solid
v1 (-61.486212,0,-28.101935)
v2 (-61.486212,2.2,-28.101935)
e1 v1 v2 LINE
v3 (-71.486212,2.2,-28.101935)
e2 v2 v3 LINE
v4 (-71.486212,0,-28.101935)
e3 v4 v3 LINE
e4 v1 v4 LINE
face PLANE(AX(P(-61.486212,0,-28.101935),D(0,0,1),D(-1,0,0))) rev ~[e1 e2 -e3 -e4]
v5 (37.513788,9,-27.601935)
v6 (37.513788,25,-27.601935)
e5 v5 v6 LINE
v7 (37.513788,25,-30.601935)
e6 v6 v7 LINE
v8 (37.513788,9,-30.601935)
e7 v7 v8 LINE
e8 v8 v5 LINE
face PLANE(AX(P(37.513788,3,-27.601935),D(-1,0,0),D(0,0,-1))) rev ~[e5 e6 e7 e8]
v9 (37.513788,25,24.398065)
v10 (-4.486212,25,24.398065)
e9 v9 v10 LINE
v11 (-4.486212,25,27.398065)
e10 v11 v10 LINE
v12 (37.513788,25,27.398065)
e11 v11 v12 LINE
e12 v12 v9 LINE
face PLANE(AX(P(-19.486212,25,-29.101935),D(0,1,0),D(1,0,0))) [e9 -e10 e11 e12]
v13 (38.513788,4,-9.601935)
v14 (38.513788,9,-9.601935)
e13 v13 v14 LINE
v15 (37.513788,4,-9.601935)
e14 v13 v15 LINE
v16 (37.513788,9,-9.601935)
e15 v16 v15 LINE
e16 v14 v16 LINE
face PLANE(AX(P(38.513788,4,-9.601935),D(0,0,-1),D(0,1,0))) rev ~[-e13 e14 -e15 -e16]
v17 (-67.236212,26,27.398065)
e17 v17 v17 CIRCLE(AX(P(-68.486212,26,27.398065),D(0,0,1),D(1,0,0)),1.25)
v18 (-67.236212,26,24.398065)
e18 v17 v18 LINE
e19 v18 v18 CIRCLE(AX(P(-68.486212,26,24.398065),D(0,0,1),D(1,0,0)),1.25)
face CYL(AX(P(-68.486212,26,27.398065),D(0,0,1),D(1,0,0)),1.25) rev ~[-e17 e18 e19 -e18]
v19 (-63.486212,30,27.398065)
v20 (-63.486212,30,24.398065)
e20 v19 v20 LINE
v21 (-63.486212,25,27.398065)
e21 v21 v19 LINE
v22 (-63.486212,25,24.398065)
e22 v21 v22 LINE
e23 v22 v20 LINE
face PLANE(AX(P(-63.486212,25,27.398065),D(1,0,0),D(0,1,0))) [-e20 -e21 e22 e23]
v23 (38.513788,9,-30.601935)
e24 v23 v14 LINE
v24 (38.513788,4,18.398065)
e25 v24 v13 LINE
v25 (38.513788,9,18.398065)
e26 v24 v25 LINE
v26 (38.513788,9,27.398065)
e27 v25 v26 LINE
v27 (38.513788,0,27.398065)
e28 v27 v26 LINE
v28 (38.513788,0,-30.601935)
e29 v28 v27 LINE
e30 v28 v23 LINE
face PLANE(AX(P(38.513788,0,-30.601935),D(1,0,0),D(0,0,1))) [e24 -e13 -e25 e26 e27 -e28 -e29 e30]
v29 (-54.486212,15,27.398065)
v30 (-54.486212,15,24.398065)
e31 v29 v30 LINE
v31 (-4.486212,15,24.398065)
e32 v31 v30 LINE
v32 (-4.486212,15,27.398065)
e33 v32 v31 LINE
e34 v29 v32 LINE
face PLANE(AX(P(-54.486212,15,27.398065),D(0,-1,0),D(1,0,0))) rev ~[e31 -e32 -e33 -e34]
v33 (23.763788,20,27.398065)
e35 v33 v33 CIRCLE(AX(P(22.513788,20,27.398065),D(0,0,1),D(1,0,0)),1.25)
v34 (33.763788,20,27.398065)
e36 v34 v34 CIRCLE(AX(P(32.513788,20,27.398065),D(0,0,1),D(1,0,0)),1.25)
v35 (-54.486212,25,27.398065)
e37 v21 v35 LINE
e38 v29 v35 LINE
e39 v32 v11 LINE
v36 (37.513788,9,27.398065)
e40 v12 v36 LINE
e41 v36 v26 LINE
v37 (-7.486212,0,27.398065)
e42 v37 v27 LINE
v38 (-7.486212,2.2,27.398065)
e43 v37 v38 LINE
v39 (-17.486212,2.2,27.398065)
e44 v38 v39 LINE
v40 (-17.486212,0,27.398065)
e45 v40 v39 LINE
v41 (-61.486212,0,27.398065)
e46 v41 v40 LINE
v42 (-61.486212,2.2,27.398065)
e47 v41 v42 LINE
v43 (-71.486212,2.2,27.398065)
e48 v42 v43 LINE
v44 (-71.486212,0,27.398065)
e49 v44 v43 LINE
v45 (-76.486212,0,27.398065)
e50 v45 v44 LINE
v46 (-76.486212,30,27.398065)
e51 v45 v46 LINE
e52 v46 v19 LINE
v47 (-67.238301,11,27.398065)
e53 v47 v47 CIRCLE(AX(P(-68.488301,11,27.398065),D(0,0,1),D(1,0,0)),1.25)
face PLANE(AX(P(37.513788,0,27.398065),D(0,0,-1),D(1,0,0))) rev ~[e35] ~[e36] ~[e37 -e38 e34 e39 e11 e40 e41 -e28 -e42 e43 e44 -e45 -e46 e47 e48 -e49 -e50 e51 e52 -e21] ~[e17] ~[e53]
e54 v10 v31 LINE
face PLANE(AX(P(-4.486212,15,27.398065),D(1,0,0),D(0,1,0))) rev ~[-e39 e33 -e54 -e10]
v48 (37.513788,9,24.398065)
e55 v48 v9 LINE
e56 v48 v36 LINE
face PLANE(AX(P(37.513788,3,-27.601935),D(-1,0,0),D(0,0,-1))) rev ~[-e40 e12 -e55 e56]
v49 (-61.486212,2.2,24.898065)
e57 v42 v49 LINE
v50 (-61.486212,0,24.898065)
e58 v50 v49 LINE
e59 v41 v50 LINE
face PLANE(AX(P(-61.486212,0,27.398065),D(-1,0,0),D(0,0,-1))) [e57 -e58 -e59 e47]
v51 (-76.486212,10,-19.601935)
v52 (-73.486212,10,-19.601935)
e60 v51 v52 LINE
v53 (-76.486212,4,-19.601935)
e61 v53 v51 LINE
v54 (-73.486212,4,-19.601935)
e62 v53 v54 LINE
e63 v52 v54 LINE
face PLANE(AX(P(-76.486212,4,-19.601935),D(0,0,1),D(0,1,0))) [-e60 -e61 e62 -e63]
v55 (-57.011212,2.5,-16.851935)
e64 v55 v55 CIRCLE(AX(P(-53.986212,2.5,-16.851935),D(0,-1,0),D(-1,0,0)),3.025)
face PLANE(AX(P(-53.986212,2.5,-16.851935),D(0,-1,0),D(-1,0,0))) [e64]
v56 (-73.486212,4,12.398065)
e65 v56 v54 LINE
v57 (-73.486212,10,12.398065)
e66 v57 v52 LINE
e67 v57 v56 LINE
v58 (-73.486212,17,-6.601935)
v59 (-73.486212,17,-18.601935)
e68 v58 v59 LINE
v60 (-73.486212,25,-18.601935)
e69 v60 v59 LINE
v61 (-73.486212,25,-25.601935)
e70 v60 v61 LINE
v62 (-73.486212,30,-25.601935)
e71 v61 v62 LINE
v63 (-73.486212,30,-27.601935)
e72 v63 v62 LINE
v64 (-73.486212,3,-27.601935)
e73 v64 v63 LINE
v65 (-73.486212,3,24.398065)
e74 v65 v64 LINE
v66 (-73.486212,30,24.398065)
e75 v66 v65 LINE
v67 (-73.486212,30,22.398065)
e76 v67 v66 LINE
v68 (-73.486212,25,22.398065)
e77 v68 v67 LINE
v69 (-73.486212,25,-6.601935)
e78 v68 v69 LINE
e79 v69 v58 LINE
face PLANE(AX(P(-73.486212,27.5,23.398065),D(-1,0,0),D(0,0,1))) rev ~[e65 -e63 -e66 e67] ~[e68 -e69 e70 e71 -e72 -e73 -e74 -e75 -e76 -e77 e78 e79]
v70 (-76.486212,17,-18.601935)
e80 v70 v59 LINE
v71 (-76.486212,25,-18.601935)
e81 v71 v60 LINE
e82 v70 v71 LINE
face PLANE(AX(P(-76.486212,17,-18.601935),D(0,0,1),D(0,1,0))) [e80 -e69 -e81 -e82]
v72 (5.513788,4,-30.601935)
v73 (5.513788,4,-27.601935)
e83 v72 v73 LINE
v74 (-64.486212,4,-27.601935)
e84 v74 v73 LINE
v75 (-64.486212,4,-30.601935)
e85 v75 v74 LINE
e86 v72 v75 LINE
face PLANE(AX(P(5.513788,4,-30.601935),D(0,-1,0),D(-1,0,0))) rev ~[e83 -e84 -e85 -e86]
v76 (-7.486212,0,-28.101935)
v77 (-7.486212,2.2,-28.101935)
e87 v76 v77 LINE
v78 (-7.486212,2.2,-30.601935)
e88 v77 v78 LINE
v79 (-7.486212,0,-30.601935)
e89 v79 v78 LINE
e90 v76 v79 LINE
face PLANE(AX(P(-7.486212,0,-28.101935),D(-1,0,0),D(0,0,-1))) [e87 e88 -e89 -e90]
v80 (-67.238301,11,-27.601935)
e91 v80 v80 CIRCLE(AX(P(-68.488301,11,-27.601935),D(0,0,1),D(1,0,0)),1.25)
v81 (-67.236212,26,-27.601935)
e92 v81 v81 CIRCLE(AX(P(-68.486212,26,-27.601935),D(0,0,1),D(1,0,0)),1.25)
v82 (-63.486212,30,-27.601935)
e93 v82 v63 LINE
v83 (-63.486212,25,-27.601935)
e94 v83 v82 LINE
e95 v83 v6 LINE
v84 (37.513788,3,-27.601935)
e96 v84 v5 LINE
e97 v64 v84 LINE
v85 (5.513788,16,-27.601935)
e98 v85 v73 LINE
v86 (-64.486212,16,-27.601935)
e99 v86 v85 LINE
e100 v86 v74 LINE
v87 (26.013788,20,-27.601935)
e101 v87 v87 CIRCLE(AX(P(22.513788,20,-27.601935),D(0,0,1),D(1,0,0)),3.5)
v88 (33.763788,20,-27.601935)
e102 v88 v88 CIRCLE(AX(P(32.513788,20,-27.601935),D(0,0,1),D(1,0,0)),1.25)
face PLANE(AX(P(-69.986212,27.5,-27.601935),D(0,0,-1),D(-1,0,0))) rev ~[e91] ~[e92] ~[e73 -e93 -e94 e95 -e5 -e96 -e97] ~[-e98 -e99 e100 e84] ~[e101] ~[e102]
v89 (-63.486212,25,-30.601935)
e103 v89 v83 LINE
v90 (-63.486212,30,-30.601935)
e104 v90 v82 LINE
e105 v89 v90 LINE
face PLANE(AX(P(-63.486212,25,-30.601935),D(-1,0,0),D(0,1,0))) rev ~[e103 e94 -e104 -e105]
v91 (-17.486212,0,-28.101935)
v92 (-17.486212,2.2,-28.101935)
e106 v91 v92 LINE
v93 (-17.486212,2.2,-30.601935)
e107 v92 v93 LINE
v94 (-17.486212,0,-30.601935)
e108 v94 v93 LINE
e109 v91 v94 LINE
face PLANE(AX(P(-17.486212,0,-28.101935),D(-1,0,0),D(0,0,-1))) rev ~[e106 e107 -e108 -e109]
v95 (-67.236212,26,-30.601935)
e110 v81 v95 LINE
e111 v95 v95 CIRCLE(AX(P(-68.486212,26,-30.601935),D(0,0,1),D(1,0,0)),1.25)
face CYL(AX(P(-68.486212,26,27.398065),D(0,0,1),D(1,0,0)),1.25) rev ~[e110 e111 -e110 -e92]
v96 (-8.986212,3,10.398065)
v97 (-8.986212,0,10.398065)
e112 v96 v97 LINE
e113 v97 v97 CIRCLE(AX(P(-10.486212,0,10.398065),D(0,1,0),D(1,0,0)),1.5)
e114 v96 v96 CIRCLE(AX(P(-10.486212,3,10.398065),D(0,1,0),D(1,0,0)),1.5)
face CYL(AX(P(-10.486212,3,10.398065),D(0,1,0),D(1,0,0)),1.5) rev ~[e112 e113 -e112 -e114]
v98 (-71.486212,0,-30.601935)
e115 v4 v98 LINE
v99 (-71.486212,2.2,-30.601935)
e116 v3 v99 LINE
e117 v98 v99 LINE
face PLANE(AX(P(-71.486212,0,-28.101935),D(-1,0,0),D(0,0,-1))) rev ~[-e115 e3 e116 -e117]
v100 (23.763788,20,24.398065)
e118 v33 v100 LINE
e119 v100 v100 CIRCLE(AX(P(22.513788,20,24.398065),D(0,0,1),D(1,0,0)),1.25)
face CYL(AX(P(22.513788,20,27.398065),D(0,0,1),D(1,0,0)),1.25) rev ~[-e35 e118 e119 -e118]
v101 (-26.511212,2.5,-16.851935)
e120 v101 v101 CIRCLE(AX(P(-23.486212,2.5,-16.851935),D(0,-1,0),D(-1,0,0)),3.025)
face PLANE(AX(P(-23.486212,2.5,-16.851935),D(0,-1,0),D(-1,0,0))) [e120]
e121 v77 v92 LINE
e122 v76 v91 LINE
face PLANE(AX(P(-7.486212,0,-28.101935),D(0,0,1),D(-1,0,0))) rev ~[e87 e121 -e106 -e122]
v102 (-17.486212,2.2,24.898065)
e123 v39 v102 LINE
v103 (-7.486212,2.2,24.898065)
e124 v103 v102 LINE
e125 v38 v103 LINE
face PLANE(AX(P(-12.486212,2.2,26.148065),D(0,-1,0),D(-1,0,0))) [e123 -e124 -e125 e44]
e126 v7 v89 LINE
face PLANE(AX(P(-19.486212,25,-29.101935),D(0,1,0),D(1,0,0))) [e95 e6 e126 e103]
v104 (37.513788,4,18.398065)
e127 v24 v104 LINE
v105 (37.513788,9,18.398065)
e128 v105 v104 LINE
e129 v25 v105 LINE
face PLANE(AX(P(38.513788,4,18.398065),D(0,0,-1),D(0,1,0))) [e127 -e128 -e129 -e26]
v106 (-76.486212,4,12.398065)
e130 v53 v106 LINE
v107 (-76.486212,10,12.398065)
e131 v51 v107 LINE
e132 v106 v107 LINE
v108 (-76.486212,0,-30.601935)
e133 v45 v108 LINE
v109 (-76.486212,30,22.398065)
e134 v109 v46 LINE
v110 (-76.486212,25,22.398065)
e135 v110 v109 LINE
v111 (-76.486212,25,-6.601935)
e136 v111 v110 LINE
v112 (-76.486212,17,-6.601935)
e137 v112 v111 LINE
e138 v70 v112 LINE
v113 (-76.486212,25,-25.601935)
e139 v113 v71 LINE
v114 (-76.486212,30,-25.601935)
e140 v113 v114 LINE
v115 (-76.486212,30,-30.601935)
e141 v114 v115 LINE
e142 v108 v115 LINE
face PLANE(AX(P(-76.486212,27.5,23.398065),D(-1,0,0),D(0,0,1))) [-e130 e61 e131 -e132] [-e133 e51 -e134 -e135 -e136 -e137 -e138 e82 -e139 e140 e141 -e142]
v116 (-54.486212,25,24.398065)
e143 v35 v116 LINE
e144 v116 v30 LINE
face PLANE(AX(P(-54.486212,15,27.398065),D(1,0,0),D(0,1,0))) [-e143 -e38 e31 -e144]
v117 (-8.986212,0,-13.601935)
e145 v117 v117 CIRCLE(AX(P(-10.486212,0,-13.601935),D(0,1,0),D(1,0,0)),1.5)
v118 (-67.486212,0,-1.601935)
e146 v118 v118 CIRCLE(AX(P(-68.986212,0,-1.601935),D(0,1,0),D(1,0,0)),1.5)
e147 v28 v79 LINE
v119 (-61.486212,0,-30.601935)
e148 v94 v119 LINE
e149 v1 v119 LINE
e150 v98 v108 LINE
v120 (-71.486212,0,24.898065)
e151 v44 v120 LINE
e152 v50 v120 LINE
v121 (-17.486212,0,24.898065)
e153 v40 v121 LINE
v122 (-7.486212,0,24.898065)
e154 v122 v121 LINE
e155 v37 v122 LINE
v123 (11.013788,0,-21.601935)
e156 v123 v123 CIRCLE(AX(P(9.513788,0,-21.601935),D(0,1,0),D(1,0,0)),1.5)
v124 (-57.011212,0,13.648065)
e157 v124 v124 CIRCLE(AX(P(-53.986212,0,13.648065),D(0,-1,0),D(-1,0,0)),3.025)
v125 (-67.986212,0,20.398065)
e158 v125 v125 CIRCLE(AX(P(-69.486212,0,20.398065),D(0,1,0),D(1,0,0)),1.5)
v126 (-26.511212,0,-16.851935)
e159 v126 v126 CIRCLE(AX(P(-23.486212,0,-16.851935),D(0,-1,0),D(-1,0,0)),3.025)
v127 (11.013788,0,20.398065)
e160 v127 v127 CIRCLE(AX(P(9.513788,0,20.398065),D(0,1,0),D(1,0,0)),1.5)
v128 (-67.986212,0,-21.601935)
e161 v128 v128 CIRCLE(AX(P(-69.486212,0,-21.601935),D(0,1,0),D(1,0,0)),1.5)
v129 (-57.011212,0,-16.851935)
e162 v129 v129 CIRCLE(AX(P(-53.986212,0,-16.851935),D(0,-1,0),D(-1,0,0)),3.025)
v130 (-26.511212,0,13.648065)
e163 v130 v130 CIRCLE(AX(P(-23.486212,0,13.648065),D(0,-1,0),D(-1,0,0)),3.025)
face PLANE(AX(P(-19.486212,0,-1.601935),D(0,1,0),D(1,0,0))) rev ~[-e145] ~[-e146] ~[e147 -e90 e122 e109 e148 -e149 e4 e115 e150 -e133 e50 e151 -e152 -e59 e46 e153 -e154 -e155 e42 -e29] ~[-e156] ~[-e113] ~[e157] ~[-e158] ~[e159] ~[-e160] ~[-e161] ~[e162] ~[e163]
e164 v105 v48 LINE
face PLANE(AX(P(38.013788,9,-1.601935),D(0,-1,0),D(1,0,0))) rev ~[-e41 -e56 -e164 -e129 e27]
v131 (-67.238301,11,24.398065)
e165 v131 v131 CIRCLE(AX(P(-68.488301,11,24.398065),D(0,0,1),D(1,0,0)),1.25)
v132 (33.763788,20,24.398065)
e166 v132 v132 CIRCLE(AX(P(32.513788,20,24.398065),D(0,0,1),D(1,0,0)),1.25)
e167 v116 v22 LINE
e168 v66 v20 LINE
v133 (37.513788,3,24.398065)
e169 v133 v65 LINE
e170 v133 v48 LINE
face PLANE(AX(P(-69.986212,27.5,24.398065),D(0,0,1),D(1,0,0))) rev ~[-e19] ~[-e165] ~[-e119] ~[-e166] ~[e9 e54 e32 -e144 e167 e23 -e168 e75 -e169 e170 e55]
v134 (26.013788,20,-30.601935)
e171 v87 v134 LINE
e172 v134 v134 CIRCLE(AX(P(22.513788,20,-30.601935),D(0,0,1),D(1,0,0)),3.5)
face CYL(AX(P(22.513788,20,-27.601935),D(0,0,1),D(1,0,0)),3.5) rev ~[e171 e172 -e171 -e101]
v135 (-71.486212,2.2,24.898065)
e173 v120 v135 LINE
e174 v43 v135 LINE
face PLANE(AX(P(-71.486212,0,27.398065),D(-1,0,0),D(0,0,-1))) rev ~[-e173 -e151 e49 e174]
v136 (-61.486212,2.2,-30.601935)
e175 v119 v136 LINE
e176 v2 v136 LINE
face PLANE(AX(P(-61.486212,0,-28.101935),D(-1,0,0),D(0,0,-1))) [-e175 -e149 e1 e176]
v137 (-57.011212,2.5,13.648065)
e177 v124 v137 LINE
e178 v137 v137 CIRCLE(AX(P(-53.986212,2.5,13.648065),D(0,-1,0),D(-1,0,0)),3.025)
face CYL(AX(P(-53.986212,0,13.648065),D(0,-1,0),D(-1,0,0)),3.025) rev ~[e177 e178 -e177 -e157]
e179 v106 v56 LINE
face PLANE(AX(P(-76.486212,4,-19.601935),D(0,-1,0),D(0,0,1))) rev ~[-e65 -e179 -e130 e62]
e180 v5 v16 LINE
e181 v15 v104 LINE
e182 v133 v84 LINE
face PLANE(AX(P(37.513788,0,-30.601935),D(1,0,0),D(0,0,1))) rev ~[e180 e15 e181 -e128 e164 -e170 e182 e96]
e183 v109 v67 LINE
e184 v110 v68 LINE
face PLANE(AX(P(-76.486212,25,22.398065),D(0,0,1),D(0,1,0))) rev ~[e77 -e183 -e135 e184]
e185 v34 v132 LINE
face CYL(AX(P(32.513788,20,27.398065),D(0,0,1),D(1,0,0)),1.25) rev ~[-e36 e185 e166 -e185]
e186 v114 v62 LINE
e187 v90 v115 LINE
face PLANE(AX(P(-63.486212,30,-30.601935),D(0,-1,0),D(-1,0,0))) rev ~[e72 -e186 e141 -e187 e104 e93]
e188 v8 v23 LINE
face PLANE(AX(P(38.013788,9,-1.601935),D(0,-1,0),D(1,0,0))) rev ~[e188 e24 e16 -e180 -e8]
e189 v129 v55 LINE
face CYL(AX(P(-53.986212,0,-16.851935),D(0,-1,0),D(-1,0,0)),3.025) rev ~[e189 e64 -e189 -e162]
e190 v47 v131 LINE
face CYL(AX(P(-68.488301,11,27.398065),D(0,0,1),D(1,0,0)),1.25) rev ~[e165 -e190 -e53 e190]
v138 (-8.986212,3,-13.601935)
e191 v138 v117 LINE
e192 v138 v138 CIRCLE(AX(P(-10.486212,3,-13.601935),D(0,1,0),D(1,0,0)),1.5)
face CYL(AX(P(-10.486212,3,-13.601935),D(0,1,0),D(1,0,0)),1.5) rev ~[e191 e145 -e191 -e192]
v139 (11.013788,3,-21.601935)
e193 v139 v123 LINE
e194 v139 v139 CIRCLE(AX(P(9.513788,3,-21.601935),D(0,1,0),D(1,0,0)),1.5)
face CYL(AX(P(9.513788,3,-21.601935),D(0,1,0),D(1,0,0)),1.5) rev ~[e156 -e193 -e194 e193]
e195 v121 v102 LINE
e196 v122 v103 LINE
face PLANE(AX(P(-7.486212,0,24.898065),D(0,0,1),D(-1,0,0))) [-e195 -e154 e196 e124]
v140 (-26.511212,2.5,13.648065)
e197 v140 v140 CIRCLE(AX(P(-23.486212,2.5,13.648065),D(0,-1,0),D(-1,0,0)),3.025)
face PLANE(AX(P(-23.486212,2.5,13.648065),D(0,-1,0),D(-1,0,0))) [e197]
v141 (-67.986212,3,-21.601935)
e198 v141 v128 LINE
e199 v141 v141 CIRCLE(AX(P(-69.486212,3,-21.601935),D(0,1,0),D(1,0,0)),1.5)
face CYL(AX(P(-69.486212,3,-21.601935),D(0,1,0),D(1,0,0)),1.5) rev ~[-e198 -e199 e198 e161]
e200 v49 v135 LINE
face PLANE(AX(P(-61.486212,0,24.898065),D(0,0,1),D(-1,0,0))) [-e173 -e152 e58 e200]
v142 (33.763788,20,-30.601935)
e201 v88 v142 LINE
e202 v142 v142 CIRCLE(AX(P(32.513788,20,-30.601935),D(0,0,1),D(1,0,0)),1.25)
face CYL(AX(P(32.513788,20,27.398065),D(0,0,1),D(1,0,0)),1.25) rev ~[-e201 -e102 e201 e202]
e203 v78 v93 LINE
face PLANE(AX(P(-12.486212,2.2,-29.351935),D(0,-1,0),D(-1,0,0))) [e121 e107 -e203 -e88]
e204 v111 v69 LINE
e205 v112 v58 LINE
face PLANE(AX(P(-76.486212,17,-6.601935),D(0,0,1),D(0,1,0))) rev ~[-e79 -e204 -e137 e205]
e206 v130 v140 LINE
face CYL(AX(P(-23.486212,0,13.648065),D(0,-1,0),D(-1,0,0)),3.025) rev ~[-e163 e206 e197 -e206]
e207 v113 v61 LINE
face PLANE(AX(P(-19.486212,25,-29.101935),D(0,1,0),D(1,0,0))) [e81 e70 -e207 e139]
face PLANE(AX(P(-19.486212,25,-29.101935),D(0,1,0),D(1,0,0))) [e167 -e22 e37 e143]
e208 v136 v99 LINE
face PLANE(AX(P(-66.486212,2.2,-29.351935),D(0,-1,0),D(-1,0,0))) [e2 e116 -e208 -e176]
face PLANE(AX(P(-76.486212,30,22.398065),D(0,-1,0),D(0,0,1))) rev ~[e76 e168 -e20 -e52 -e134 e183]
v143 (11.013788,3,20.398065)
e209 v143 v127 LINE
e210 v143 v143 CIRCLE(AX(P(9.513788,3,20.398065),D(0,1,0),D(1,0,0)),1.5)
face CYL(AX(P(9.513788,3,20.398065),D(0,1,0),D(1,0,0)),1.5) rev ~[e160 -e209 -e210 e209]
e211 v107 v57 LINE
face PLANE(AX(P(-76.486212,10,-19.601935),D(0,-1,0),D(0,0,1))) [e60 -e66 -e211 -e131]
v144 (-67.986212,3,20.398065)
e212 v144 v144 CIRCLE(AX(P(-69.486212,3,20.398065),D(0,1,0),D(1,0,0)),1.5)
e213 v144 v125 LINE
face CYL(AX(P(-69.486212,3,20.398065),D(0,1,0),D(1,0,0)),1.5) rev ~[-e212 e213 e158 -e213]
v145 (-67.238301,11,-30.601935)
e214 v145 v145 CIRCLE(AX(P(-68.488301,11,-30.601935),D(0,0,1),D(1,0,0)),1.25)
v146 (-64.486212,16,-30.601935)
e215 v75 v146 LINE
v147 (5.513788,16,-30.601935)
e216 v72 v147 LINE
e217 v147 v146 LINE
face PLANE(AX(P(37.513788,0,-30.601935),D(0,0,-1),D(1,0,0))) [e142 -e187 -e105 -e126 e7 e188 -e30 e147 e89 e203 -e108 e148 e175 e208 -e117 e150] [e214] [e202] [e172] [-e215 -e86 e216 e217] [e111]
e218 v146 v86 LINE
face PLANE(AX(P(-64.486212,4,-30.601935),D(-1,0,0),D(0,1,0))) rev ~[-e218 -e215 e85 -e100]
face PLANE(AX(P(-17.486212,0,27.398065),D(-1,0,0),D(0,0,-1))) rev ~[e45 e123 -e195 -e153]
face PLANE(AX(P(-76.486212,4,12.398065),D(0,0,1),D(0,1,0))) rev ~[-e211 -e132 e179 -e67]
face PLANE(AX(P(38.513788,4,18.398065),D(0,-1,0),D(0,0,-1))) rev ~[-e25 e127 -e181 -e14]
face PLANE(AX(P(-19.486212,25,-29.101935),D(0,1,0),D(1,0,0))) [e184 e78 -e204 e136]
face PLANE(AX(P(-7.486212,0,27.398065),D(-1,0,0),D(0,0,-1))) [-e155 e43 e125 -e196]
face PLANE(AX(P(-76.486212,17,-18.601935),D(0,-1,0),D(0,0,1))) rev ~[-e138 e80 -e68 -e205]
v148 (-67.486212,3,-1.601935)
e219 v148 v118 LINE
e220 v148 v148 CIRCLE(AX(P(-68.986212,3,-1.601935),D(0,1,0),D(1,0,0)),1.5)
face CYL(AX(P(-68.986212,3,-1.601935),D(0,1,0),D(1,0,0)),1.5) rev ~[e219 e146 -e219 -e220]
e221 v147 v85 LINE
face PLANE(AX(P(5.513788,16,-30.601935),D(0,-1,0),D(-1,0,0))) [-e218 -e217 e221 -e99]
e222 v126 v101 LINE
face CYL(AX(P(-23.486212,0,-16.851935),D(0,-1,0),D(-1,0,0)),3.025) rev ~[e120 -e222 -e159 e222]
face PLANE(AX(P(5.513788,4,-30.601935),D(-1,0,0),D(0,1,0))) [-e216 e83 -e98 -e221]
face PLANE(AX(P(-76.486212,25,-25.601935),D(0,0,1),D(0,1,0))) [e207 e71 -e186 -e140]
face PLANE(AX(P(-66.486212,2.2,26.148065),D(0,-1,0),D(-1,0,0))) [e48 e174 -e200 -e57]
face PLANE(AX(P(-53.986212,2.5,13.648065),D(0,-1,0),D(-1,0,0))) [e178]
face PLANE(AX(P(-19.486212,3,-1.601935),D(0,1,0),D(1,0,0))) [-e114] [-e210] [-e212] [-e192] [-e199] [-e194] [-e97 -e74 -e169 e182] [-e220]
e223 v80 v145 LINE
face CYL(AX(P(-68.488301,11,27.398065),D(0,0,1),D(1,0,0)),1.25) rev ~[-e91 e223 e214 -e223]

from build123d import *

# Parameters (mm, degrees)
SKETCH2_W           = 114
SKETCH2_H           = 58
BOSS_EXTRUDE1_DEPTH = 3
SKETCH3_R           = 1.5
CUT_EXTRUDE5_DEPTH  = 4
SKETCH5_R           = 3.025
CUT_EXTRUDE7_DEPTH  = 2.5
SKETCH7_W           = 3
SKETCH7_H           = 52
BOSS_EXTRUDE2_DEPTH = 22
CUT_EXTRUDE8_REACH  = 5
SKETCH8_R           = 1.5
CUT_EXTRUDE9_REACH  = 60
SKETCH9_W           = 50
SKETCH9_H           = 10
CUT_EXTRUDE10_REACH = 116
SKETCH10_W          = 32
SKETCH10_H          = 6
SKETCH10_W_2        = 12
SKETCH10_H_2        = 8
CUT_EXTRUDE11_REACH = 60
SKETCH11_W          = 70
SKETCH11_H          = 12
SKETCH12_R          = 1.25
CUT_EXTRUDE12_DEPTH = 59
SKETCH13_W          = 13
SKETCH13_H          = 5
BOSS_EXTRUDE4_DEPTH = 3
SKETCH14_W          = 13
SKETCH14_H          = 5
BOSS_EXTRUDE5_DEPTH = 3
SKETCH15_R          = 1.25
CUT_EXTRUDE13_DEPTH = 59
SKETCH16_W          = 2
SKETCH16_H          = 5
BOSS_EXTRUDE6_DEPTH = 3
CUT_EXTRUDE14_REACH = 5
SKETCH17_R          = 3.5
SKETCH19_W          = 1
SKETCH19_H          = 58
BOSS_EXTRUDE7_DEPTH = 9
CUT_EXTRUDE15_REACH = 117
SKETCH20_W          = 28
SKETCH20_H          = 5
SKETCH21_W          = 10
SKETCH21_H          = 2.5
CUT_EXTRUDE16_DEPTH = 2.2


with BuildPart() as part:
    # Sketch2 → Boss-Extrude1 (new body)
    with BuildSketch(Plane(origin=(0, 0, 0), x_dir=(1, 0, 0), z_dir=(0, 1, 0))):
        with Locations((-19.486211897, 1.601935214)):
            Rectangle(SKETCH2_W, SKETCH2_H)
    extrude(amount=BOSS_EXTRUDE1_DEPTH)

    # Sketch3 → Cut-Extrude5 (cut, through all)
    with BuildSketch(Plane(origin=(0, 3, 0), x_dir=(1, 0, 0), z_dir=(0, 1, 0))):
        with Locations((-10.486211897, 13.601935214)):
            Circle(SKETCH3_R)
        with Locations((-10.486211897, -10.398064786)):
            Circle(SKETCH3_R)
        with Locations((-68.986211897, 1.601935214)):
            Circle(SKETCH3_R)
    extrude(amount=-CUT_EXTRUDE5_DEPTH, mode=Mode.SUBTRACT)

    # Sketch5 → Cut-Extrude7 (cut)
    with BuildSketch(Plane(origin=(0, 0, 0), x_dir=(-1, 0, 0), z_dir=(0, -1, 0))):
        with Locations((23.486211897, 16.851935214)):
            Circle(SKETCH5_R)
        with Locations((23.486211897, -13.648064786)):
            Circle(SKETCH5_R)
        with Locations((53.986211897, -13.648064786)):
            Circle(SKETCH5_R)
        with Locations((53.986211897, 16.851935214)):
            Circle(SKETCH5_R)
    extrude(amount=-CUT_EXTRUDE7_DEPTH, mode=Mode.SUBTRACT)

    # Sketch7 → Boss-Extrude2 (add)
    with BuildSketch(Plane(origin=(0, 3, 0), x_dir=(1, 0, 0), z_dir=(0, 1, 0))):
        Polygon((37.513788103, 30.601935214), (-76.486211897, 30.601935214), (-76.486211897, 27.601935214), (-73.486211897, 27.601935214), (37.513788103, 27.601935214), align=None)
        with Locations((-74.986211897, 1.601935214)):
            Rectangle(SKETCH7_W, SKETCH7_H)
        Polygon((-73.486211897, -24.398064786), (-76.486211897, -24.398064786), (-76.486211897, -27.398064786), (37.513788103, -27.398064786), (37.513788103, -24.398064786), align=None)
    extrude(amount=BOSS_EXTRUDE2_DEPTH)

    # Sketch8 → Cut-Extrude8 (cut, up to next)
    with BuildSketch(Plane(origin=(0, 3, 0), x_dir=(1, 0, 0), z_dir=(0, 1, 0)), mode=Mode.PRIVATE) as cut_extrude8_sk1:
        with Locations((-69.486211897, 21.601935214)):
            Circle(SKETCH8_R)
    cut_extrude8_tool1 = extrude(cut_extrude8_sk1.sketch, amount=-CUT_EXTRUDE8_REACH, mode=Mode.PRIVATE) & part.part
    add(cut_extrude8_tool1.solids().sort_by_distance((-69.486212, 3, -21.601935))[0], mode=Mode.SUBTRACT)
    # Sketch8 → Cut-Extrude8 (cut, up to next)
    with BuildSketch(Plane(origin=(0, 3, 0), x_dir=(1, 0, 0), z_dir=(0, 1, 0)), mode=Mode.PRIVATE) as cut_extrude8_sk2:
        with Locations((-69.486211897, -20.398064786)):
            Circle(SKETCH8_R)
    cut_extrude8_tool2 = extrude(cut_extrude8_sk2.sketch, amount=-CUT_EXTRUDE8_REACH, mode=Mode.PRIVATE) & part.part
    add(cut_extrude8_tool2.solids().sort_by_distance((-69.486212, 3, 20.398065))[0], mode=Mode.SUBTRACT)
    # Sketch8 → Cut-Extrude8 (cut, up to next)
    with BuildSketch(Plane(origin=(0, 3, 0), x_dir=(1, 0, 0), z_dir=(0, 1, 0)), mode=Mode.PRIVATE) as cut_extrude8_sk3:
        with Locations((9.513788103, 21.601935214)):
            Circle(SKETCH8_R)
    cut_extrude8_tool3 = extrude(cut_extrude8_sk3.sketch, amount=-CUT_EXTRUDE8_REACH, mode=Mode.PRIVATE) & part.part
    add(cut_extrude8_tool3.solids().sort_by_distance((9.513788, 3, -21.601935))[0], mode=Mode.SUBTRACT)
    # Sketch8 → Cut-Extrude8 (cut, up to next)
    with BuildSketch(Plane(origin=(0, 3, 0), x_dir=(1, 0, 0), z_dir=(0, 1, 0)), mode=Mode.PRIVATE) as cut_extrude8_sk4:
        with Locations((9.513788103, -20.398064786)):
            Circle(SKETCH8_R)
    cut_extrude8_tool4 = extrude(cut_extrude8_sk4.sketch, amount=-CUT_EXTRUDE8_REACH, mode=Mode.PRIVATE) & part.part
    add(cut_extrude8_tool4.solids().sort_by_distance((9.513788, 3, 20.398065))[0], mode=Mode.SUBTRACT)

    # Sketch9 → Cut-Extrude9 (cut, up to next)
    with BuildSketch(Plane.XY.offset(27.398064786), mode=Mode.PRIVATE) as cut_extrude9_sk1:
        with Locations((-29.486211897, 20)):
            Rectangle(SKETCH9_W, SKETCH9_H)
    cut_extrude9_tool1 = extrude(cut_extrude9_sk1.sketch, amount=-CUT_EXTRUDE9_REACH, mode=Mode.PRIVATE) & part.part
    add(cut_extrude9_tool1.solids().sort_by_distance((-29.486212, 20, 27.398065))[0], mode=Mode.SUBTRACT)

    # Sketch10 → Cut-Extrude10 (cut, up to next)
    with BuildSketch(Plane.ZY.offset(76.486211897), mode=Mode.PRIVATE) as cut_extrude10_sk1:
        with Locations((-3.601935214, 7)):
            Rectangle(SKETCH10_W, SKETCH10_H)
    cut_extrude10_tool1 = extrude(cut_extrude10_sk1.sketch, amount=-CUT_EXTRUDE10_REACH, mode=Mode.PRIVATE) & part.part
    add(cut_extrude10_tool1.solids().sort_by_distance((-76.486212, 7, -3.601935))[0], mode=Mode.SUBTRACT)
    # Sketch10 → Cut-Extrude10 (cut, up to next)
    with BuildSketch(Plane.ZY.offset(76.486211897), mode=Mode.PRIVATE) as cut_extrude10_sk2:
        with Locations((-12.601935214, 21)):
            Rectangle(SKETCH10_W_2, SKETCH10_H_2)
    cut_extrude10_tool2 = extrude(cut_extrude10_sk2.sketch, amount=-CUT_EXTRUDE10_REACH, mode=Mode.PRIVATE) & part.part
    add(cut_extrude10_tool2.solids().sort_by_distance((-76.486212, 21, -12.601935))[0], mode=Mode.SUBTRACT)

    # Sketch11 → Cut-Extrude11 (cut, up to next)
    with BuildSketch(Plane(origin=(0, 0, -30.601935214), x_dir=(-1, 0, 0), z_dir=(0, 0, -1)), mode=Mode.PRIVATE) as cut_extrude11_sk1:
        with Locations((29.486211897, 10)):
            Rectangle(SKETCH11_W, SKETCH11_H)
    cut_extrude11_tool1 = extrude(cut_extrude11_sk1.sketch, amount=-CUT_EXTRUDE11_REACH, mode=Mode.PRIVATE) & part.part
    add(cut_extrude11_tool1.solids().sort_by_distance((-29.486212, 10, -30.601935))[0], mode=Mode.SUBTRACT)

    # Sketch12 → Cut-Extrude12 (cut, through all)
    with BuildSketch(Plane.XY.offset(27.398064786)):
        with Locations((22.513788103, 20)):
            Circle(SKETCH12_R)
        with Locations((32.513788103, 20)):
            Circle(SKETCH12_R)
        with Locations((-68.488300827, 11)):
            Circle(SKETCH12_R)
    extrude(amount=-CUT_EXTRUDE12_DEPTH, mode=Mode.SUBTRACT)

    # Sketch13 → Boss-Extrude4 (add)
    with BuildSketch(Plane.XY.offset(27.398064786)):
        with Locations((-69.986211897, 27.5)):
            Rectangle(SKETCH13_W, SKETCH13_H)
    extrude(amount=-BOSS_EXTRUDE4_DEPTH)

    # Sketch14 → Boss-Extrude5 (add)
    with BuildSketch(Plane(origin=(0, 0, -30.601935214), x_dir=(-1, 0, 0), z_dir=(0, 0, -1))):
        with Locations((69.986211897, 27.5)):
            Rectangle(SKETCH14_W, SKETCH14_H)
    extrude(amount=-BOSS_EXTRUDE5_DEPTH)

    # Sketch15 → Cut-Extrude13 (cut, through all)
    with BuildSketch(Plane.XY.offset(27.398064786)):
        with Locations((-68.486211897, 26)):
            Circle(SKETCH15_R)
    extrude(amount=-CUT_EXTRUDE13_DEPTH, mode=Mode.SUBTRACT)

    # Sketch16 → Boss-Extrude6 (add)
    with BuildSketch(Plane.ZY.offset(76.486211897)):
        with Locations((23.398064786, 27.5)):
            Rectangle(SKETCH16_W, SKETCH16_H)
        with Locations((-26.601935214, 27.5)):
            Rectangle(SKETCH16_W, SKETCH16_H)
    extrude(amount=-BOSS_EXTRUDE6_DEPTH)

    # Sketch17 → Cut-Extrude14 (cut, up to next)
    with BuildSketch(Plane.XY.offset(-27.601935214), mode=Mode.PRIVATE) as cut_extrude14_sk1:
        with Locations((22.513788103, 20)):
            Circle(SKETCH17_R)
    cut_extrude14_tool1 = extrude(cut_extrude14_sk1.sketch, amount=-CUT_EXTRUDE14_REACH, mode=Mode.PRIVATE) & part.part
    add(cut_extrude14_tool1.solids().sort_by_distance((22.513788, 20, -27.601935))[0], mode=Mode.SUBTRACT)

    # Sketch19 → Boss-Extrude7 (add)
    with BuildSketch(Plane.XZ):
        with Locations((38.013788103, -1.601935214)):
            Rectangle(SKETCH19_W, SKETCH19_H)
    extrude(amount=-BOSS_EXTRUDE7_DEPTH)

    # Sketch20 → Cut-Extrude15 (cut, up to next)
    with BuildSketch(Plane(origin=(38.513788103, 0, 0), x_dir=(0, 0, -1), z_dir=(1, 0, 0)), mode=Mode.PRIVATE) as cut_extrude15_sk1:
        with Locations((-4.398064786, 6.5)):
            Rectangle(SKETCH20_W, SKETCH20_H)
    cut_extrude15_tool1 = extrude(cut_extrude15_sk1.sketch, amount=-CUT_EXTRUDE15_REACH, mode=Mode.PRIVATE) & part.part
    add(cut_extrude15_tool1.solids().sort_by_distance((38.513788, 6.5, 4.398065))[0], mode=Mode.SUBTRACT)

    # Sketch21 → Cut-Extrude16 (cut)
    with BuildSketch(Plane(origin=(0, 0, 0), x_dir=(-1, 0, 0), z_dir=(0, -1, 0))):
        with Locations((66.486211897, -26.148064786)):
            Rectangle(SKETCH21_W, SKETCH21_H)
        with Locations((12.486211897, -26.148064786)):
            Rectangle(SKETCH21_W, SKETCH21_H)
        with Locations((12.486211897, 29.351935214)):
            Rectangle(SKETCH21_W, SKETCH21_H)
        with Locations((66.486211897, 29.351935214)):
            Rectangle(SKETCH21_W, SKETCH21_H)
    extrude(amount=-CUT_EXTRUDE16_DEPTH, mode=Mode.SUBTRACT)


solid = part.part
